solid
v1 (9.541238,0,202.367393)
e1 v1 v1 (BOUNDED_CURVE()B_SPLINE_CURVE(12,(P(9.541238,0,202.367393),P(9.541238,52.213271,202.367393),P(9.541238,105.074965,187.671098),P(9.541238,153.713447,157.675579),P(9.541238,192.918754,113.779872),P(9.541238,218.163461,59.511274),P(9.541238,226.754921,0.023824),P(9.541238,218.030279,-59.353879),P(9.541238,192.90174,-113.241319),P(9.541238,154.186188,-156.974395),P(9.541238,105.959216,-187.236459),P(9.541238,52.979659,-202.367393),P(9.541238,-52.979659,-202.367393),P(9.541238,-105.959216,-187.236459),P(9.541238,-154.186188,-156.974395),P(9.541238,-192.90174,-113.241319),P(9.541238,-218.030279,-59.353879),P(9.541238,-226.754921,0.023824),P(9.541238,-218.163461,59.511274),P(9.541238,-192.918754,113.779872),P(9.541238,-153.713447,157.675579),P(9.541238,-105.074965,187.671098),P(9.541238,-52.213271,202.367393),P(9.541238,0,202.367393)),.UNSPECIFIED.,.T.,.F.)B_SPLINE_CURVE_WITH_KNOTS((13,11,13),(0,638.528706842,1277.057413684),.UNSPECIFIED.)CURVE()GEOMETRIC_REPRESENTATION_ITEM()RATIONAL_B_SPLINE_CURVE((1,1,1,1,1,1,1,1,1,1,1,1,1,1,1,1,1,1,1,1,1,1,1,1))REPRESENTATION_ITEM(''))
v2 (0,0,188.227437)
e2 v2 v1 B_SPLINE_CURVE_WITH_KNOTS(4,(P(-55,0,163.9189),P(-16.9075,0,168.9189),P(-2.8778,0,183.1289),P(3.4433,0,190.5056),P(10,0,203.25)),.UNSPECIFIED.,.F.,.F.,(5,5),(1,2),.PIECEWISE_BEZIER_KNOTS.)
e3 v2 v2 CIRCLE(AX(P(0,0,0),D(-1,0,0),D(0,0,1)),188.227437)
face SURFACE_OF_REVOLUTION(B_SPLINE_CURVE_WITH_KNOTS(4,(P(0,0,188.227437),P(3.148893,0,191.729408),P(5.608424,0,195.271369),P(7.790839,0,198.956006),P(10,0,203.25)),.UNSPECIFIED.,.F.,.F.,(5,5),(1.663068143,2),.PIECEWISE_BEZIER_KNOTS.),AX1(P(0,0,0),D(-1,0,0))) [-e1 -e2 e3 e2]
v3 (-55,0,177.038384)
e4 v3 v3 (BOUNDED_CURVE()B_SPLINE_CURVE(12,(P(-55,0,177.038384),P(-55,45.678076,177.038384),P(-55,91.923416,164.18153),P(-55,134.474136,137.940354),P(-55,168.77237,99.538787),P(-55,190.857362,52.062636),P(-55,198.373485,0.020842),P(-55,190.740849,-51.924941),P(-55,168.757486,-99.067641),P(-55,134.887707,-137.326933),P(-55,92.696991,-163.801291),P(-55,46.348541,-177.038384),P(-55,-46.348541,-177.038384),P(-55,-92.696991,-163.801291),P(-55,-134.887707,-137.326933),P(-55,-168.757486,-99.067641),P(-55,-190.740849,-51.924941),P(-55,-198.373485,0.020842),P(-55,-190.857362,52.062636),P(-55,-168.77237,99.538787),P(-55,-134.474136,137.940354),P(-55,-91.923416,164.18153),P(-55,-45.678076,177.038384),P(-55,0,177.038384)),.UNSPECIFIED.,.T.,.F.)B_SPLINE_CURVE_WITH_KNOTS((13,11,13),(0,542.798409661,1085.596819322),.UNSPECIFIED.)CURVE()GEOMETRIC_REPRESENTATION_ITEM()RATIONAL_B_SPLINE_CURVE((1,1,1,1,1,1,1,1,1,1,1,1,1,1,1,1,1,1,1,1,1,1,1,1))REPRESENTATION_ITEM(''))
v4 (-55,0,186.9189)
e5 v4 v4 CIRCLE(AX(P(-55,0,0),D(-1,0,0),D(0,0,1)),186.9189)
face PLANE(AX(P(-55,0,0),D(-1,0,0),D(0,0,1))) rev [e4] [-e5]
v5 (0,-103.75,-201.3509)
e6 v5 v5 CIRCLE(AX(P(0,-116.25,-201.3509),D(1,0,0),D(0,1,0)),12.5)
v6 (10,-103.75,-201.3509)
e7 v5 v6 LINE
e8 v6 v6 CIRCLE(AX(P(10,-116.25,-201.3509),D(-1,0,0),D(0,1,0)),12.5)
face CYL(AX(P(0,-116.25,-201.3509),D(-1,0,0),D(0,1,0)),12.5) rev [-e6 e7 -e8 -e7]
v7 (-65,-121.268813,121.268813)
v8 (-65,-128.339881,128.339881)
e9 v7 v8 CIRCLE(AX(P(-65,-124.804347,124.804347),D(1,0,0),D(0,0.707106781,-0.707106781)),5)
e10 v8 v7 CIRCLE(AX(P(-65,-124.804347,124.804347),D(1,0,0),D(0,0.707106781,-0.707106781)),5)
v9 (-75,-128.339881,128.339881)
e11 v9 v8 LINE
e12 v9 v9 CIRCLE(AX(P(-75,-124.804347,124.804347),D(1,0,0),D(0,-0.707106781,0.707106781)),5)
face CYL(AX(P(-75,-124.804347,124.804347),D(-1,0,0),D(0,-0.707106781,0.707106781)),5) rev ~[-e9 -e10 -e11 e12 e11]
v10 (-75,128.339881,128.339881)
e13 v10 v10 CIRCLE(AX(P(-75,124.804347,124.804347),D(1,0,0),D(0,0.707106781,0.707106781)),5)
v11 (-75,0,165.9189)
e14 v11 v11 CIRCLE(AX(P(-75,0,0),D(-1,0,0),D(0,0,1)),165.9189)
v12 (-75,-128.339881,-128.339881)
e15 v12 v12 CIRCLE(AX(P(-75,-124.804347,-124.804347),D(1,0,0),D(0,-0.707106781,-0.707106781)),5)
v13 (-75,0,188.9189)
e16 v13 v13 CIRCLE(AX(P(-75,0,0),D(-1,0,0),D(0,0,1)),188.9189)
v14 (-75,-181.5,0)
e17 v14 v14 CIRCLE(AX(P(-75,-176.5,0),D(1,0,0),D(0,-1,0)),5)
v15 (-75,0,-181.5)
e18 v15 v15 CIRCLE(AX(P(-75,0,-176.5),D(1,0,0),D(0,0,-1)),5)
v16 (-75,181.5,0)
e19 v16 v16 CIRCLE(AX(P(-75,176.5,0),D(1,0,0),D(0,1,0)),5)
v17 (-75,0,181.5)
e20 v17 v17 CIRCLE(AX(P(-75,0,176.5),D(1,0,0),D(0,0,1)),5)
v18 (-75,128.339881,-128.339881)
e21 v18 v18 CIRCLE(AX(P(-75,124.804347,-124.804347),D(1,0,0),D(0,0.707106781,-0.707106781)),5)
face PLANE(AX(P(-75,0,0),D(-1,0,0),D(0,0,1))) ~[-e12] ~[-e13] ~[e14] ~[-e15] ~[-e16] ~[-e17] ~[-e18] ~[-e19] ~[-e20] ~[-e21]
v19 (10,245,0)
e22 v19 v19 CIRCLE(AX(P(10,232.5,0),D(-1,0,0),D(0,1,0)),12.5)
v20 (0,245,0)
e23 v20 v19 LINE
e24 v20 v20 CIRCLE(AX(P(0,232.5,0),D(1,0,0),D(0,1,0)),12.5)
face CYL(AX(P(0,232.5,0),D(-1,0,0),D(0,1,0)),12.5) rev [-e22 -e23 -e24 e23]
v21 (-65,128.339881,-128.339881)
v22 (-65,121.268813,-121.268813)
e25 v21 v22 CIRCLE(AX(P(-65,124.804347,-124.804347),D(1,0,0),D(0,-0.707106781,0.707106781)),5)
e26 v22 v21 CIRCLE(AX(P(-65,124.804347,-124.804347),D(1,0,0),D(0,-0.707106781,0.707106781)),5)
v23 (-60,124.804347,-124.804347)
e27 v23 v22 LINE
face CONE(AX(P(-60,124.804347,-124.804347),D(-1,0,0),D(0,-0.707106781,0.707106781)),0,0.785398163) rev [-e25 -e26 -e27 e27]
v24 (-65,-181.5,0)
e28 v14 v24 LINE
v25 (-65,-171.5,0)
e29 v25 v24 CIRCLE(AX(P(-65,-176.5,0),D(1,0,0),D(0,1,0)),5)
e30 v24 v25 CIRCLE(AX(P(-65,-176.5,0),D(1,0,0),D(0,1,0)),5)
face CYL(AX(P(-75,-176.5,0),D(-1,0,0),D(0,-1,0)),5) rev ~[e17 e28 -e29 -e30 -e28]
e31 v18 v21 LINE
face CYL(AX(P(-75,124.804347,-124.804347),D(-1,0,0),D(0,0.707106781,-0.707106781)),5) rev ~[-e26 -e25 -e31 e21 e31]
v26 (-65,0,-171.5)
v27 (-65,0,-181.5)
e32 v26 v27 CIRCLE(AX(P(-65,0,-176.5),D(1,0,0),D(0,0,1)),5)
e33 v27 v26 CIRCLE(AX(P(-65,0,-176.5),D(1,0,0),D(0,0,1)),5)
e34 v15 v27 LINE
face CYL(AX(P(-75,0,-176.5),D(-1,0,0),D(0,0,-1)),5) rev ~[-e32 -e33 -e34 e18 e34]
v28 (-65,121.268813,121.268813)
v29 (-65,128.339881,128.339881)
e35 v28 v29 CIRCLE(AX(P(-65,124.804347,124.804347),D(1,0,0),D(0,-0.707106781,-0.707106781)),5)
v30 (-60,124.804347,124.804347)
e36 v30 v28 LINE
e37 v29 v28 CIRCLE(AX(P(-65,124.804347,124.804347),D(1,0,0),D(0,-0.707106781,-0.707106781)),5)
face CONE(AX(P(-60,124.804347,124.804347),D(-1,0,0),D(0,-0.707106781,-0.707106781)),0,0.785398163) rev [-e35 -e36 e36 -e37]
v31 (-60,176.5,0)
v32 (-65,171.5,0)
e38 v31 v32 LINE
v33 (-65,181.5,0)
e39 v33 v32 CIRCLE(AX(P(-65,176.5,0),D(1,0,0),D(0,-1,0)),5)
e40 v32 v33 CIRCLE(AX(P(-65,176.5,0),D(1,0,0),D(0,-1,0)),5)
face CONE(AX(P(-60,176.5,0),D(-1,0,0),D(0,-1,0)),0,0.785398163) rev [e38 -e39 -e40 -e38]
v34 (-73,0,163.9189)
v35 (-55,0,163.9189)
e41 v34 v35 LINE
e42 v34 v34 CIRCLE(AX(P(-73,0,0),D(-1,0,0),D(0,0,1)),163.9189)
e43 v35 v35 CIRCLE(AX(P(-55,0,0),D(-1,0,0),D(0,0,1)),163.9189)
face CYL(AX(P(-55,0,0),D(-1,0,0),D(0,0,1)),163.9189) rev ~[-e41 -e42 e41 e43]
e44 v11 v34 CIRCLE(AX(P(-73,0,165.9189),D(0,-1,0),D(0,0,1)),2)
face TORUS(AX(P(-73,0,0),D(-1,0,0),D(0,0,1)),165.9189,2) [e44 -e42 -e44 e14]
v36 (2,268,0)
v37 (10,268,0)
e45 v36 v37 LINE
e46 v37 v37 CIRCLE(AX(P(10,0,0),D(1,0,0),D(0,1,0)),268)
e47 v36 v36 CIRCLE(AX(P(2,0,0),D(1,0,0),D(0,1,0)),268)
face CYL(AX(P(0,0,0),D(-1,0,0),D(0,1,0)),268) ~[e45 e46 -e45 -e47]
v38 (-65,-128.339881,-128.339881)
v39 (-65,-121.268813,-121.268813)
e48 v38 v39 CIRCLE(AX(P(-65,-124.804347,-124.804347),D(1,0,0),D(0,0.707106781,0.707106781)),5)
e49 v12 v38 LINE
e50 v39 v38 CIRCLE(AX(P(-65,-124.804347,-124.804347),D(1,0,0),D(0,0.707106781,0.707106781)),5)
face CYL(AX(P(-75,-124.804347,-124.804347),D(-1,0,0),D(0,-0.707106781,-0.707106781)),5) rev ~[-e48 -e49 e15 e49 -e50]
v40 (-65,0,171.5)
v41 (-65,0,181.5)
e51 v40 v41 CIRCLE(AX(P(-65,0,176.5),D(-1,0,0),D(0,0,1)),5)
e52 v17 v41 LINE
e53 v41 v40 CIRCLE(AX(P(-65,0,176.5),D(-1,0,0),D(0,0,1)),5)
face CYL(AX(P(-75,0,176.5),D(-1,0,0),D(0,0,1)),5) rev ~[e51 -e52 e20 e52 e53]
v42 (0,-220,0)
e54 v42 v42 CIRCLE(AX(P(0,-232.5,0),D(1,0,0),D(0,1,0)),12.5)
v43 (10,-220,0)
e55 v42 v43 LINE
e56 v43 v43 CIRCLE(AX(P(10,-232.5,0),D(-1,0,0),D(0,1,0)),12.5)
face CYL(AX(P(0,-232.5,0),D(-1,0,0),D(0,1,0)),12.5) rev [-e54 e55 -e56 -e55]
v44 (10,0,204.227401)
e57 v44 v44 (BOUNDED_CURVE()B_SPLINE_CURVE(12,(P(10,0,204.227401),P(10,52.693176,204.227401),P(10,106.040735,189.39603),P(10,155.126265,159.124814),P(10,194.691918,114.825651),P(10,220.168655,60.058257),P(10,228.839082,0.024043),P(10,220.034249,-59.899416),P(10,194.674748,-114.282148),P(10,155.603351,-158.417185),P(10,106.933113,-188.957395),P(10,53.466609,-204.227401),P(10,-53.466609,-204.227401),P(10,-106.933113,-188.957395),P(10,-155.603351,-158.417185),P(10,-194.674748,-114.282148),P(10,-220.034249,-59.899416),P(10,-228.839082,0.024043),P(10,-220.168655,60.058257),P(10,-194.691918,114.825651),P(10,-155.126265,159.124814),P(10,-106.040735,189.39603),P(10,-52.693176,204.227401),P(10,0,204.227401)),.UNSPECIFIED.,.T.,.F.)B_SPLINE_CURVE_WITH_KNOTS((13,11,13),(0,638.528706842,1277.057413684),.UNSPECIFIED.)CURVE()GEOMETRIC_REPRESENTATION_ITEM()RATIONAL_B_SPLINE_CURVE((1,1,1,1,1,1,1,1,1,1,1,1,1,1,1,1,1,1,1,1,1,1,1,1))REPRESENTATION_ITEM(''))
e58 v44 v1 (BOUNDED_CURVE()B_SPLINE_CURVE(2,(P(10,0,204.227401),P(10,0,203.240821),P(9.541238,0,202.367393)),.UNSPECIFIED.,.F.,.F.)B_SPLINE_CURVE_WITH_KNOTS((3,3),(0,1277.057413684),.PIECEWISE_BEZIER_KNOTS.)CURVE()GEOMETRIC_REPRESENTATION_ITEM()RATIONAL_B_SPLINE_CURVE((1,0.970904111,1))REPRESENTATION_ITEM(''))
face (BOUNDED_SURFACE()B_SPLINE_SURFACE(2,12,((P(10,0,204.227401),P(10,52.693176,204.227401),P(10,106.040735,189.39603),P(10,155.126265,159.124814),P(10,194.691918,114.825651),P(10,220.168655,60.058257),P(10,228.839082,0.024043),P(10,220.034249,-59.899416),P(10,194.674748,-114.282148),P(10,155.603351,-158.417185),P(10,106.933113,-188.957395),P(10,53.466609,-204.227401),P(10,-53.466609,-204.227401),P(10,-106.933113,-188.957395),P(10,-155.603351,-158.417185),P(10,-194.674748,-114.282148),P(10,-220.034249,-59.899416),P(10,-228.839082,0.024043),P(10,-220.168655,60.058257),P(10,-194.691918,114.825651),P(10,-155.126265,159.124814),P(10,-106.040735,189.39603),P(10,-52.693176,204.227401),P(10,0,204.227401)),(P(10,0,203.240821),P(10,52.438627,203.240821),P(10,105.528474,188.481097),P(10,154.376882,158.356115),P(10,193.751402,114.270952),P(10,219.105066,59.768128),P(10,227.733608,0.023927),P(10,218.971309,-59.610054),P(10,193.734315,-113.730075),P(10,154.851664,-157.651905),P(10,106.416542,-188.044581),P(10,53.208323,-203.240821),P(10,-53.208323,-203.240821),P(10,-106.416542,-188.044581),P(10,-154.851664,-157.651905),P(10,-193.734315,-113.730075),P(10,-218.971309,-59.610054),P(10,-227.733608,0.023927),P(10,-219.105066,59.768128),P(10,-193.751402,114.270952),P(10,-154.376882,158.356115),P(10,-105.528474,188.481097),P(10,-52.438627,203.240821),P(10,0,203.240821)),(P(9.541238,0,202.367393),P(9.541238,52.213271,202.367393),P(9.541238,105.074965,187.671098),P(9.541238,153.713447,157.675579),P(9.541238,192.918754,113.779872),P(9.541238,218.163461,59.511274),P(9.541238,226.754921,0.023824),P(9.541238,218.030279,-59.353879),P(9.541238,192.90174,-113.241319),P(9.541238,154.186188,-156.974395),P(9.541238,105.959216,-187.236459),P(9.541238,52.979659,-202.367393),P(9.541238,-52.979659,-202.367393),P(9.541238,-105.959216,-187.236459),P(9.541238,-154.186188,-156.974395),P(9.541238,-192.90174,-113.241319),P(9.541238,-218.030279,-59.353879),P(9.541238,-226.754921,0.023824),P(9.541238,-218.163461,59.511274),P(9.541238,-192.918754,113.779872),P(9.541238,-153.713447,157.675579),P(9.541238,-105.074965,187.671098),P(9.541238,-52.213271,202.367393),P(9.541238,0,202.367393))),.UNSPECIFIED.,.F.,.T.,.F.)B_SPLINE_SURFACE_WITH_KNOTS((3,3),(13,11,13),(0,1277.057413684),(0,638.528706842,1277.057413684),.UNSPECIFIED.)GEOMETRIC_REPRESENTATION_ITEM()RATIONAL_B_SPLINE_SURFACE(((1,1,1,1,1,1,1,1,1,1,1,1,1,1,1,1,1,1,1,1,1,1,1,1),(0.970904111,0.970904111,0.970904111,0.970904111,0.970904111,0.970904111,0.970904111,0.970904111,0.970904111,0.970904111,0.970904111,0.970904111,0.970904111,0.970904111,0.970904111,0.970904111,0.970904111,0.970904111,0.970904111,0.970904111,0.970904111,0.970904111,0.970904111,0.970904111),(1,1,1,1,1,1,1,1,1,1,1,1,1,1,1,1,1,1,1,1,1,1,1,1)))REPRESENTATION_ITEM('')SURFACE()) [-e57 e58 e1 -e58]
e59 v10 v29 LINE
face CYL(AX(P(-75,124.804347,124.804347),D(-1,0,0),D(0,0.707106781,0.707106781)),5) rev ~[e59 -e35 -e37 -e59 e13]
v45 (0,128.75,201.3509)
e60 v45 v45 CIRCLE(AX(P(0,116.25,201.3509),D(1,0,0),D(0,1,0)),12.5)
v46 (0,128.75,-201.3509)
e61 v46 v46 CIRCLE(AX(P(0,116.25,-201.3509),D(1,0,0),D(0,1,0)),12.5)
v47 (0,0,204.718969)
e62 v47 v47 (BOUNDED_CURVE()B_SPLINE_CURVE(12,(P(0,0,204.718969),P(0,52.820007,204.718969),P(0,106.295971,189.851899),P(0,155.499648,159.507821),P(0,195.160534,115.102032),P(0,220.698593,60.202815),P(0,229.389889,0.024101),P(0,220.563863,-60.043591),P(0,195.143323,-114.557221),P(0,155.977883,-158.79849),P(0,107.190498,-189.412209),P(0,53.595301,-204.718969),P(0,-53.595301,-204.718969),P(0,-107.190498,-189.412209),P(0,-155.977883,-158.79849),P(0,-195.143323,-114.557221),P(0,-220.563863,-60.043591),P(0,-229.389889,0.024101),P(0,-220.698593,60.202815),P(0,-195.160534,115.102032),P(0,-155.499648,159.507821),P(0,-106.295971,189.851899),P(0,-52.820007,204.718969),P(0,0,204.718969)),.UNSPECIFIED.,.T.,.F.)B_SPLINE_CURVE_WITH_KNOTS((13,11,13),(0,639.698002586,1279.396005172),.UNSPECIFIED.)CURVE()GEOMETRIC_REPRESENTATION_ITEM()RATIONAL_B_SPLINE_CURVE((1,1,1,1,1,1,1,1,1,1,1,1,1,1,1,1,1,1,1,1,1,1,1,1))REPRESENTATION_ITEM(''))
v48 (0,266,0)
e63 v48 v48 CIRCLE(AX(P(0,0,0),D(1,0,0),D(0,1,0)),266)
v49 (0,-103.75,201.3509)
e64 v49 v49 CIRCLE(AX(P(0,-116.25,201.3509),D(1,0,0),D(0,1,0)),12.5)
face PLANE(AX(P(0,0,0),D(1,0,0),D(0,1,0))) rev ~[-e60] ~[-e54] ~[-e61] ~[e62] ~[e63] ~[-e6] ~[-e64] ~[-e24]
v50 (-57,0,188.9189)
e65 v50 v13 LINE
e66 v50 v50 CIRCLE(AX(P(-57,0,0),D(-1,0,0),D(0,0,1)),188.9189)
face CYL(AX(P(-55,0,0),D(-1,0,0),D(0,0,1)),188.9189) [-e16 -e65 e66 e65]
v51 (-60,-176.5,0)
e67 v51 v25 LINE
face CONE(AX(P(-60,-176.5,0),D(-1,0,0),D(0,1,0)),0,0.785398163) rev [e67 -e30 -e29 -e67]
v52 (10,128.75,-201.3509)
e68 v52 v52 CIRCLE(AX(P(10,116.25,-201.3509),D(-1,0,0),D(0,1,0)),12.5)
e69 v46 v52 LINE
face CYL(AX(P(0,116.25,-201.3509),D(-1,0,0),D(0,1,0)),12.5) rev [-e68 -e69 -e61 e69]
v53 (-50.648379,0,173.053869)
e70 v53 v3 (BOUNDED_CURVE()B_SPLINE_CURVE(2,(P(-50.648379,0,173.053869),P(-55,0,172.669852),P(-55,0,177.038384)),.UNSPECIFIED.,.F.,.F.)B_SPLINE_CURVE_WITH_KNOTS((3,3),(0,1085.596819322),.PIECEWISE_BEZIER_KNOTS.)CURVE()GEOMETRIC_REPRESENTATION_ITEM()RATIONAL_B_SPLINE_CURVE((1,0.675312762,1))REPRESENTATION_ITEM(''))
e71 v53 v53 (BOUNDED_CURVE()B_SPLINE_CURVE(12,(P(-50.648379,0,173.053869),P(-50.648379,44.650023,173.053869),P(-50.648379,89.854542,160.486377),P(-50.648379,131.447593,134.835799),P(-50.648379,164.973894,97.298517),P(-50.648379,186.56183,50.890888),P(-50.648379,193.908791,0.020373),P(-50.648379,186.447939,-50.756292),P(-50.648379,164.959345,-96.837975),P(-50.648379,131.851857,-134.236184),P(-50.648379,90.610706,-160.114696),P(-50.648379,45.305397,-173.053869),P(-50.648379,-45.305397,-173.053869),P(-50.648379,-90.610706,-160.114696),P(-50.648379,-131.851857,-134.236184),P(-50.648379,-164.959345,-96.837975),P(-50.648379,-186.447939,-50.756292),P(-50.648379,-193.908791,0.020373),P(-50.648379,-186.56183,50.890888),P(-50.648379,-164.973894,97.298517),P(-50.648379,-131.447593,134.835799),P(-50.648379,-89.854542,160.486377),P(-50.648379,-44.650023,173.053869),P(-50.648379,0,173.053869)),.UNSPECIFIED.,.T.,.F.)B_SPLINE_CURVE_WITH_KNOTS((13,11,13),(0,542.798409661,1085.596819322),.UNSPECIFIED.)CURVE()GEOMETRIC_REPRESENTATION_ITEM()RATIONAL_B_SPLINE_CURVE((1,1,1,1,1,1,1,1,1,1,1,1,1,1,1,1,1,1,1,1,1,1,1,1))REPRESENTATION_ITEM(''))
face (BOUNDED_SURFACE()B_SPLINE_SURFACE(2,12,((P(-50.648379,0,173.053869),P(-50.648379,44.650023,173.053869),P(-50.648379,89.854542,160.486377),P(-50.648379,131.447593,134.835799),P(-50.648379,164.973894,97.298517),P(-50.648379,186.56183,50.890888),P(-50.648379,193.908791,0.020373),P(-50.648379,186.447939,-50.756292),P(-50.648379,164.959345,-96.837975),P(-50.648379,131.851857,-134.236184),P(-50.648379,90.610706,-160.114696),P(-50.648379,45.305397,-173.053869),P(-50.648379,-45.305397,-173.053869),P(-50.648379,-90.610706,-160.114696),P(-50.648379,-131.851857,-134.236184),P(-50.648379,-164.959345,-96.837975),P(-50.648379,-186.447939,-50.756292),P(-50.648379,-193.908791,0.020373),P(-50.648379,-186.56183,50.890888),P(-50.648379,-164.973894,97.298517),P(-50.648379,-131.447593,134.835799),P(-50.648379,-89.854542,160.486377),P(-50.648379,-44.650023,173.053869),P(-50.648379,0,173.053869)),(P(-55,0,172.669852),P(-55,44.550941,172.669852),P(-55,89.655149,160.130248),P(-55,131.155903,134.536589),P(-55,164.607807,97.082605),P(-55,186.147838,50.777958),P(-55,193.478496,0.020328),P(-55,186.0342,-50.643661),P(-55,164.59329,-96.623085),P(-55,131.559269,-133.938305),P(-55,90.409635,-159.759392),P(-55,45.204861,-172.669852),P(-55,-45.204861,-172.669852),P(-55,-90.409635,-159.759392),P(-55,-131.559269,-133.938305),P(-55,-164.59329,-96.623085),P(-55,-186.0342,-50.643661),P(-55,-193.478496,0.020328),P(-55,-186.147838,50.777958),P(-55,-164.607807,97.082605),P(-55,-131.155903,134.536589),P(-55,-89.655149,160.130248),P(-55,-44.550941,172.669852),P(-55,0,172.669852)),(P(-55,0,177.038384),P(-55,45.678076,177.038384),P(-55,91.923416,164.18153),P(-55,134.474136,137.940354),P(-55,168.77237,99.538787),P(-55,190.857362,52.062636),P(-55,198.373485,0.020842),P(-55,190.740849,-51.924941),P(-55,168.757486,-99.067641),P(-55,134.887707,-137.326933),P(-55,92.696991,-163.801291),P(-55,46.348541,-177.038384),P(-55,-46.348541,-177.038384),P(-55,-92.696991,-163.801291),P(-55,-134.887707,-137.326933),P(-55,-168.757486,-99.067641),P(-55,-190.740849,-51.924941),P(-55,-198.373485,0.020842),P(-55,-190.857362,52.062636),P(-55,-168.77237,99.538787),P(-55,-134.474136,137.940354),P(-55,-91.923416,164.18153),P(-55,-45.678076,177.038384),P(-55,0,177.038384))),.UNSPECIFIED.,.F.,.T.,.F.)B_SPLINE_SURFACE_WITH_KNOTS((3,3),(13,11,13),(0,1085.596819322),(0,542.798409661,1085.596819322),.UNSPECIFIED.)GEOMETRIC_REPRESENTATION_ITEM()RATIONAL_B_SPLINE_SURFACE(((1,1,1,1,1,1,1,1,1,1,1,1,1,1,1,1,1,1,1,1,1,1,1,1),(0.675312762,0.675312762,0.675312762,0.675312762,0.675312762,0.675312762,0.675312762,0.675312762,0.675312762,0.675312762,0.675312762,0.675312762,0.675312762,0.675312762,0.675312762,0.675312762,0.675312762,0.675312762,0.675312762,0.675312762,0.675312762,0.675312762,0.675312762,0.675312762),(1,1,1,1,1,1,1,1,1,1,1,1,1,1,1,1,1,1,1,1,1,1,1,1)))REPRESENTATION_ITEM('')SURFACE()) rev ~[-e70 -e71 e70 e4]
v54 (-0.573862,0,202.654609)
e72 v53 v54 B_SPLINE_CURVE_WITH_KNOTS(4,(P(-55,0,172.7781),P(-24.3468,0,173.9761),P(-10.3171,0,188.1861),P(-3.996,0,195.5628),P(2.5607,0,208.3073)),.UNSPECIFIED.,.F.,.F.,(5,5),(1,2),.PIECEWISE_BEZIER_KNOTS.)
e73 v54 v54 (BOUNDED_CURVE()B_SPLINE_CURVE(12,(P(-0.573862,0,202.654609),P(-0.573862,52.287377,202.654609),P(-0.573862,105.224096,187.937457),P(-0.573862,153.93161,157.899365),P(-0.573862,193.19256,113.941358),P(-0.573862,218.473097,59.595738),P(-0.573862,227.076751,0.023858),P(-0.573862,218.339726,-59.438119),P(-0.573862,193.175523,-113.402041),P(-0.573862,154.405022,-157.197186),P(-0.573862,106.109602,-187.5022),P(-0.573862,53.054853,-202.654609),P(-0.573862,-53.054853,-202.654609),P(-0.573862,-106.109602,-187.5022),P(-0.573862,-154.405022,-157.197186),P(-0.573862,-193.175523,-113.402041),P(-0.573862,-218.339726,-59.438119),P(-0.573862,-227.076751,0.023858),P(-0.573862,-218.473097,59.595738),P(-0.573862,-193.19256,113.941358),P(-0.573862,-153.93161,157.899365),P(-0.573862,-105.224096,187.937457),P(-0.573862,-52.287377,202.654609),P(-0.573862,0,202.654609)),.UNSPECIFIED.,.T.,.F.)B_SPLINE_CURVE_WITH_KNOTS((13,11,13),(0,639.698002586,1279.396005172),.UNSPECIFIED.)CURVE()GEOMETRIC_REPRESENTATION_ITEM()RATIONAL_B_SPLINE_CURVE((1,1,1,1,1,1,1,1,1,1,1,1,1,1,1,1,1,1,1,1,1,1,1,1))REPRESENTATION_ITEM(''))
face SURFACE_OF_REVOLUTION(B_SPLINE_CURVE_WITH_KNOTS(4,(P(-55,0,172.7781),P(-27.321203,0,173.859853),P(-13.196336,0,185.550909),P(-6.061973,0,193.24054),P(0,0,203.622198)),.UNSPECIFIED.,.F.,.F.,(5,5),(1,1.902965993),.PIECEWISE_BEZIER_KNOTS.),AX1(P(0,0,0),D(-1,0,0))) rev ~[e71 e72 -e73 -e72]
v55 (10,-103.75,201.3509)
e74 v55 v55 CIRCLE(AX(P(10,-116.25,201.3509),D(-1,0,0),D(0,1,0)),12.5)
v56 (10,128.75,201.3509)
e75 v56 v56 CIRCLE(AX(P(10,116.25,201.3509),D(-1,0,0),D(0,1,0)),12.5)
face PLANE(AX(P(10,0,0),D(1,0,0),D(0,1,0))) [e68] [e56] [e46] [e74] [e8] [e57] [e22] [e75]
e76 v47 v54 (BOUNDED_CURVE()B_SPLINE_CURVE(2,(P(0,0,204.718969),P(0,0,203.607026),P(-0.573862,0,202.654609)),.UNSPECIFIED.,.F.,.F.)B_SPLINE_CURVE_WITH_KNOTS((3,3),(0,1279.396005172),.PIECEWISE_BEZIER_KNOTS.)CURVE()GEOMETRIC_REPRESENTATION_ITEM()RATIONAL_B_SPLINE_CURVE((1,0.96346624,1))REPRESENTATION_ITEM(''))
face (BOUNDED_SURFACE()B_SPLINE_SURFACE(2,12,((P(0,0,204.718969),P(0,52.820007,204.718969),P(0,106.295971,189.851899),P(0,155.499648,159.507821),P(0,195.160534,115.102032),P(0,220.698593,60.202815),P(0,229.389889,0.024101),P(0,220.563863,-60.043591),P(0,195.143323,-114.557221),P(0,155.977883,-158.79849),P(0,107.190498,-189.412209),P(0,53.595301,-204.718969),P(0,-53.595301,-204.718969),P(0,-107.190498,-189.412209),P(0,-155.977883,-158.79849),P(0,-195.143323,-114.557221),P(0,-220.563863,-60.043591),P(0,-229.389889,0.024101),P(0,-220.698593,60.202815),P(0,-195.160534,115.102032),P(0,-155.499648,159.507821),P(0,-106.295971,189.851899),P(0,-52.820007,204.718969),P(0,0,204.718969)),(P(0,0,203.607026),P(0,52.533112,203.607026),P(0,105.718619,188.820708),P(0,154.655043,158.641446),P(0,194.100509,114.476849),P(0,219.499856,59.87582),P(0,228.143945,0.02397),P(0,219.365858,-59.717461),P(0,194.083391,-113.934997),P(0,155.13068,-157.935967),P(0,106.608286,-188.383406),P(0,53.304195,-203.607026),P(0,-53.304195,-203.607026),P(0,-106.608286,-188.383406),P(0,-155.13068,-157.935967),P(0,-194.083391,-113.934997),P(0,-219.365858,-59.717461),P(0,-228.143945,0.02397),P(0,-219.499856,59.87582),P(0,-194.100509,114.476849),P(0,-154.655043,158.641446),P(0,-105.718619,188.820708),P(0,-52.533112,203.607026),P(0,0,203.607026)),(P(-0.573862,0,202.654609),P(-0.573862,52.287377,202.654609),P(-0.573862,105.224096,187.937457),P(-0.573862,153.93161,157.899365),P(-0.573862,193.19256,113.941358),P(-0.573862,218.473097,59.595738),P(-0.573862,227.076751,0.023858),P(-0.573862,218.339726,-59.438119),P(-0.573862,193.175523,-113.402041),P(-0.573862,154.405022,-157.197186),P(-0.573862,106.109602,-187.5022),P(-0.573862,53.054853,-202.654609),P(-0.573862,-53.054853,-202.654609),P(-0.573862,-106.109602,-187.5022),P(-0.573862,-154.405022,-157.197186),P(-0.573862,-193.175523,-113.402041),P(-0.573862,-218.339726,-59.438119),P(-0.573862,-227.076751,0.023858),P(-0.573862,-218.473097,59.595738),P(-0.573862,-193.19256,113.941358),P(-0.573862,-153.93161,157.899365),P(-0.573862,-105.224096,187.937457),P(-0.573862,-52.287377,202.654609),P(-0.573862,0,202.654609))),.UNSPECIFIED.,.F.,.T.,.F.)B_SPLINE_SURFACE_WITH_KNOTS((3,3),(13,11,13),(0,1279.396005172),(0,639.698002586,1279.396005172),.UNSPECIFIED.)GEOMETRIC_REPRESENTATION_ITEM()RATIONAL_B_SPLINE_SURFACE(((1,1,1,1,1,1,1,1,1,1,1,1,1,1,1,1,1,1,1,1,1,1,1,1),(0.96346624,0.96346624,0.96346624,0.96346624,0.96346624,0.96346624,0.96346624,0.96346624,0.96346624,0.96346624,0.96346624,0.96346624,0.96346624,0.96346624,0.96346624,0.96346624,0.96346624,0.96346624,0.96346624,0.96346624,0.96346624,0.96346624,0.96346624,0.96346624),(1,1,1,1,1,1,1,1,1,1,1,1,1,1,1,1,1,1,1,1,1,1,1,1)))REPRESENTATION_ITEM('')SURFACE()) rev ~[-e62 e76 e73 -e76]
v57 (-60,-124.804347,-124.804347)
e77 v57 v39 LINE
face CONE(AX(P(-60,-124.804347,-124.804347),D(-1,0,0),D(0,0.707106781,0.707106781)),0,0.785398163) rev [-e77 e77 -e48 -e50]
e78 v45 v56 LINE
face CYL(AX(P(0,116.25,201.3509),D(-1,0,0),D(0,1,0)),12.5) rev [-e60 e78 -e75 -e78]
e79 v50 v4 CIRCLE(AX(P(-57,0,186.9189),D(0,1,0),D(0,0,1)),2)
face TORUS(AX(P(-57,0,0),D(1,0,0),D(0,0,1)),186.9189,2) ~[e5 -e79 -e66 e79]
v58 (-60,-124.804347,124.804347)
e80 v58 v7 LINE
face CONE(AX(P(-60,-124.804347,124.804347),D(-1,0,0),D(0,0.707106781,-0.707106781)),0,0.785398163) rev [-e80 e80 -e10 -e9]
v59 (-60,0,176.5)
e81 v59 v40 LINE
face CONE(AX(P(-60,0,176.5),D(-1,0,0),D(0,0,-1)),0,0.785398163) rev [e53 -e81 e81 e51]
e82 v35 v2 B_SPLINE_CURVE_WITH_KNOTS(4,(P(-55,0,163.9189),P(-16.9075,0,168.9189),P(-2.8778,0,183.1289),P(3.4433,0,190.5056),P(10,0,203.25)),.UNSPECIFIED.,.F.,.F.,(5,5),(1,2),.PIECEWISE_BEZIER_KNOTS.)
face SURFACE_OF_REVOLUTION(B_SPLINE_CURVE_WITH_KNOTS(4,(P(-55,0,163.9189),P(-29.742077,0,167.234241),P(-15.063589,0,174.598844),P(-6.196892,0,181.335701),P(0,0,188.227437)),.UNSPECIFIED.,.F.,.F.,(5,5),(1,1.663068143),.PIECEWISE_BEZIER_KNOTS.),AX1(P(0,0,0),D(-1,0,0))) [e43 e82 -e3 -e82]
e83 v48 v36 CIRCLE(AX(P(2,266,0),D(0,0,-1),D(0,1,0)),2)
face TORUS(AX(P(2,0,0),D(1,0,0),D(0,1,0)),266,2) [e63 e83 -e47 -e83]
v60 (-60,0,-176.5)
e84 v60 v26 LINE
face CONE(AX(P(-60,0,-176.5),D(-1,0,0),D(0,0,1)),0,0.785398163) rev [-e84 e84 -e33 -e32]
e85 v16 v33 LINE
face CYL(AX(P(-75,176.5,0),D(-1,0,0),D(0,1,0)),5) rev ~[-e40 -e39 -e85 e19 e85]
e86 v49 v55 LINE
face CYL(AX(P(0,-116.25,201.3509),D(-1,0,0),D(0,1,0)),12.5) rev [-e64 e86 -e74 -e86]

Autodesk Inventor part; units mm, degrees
ref_plane "YZ Plane" through (0, 0, 0) normal (1, 0, 0) x (0, 1, 0)
ref_plane "XZ Plane" through (0, 0, 0) normal (0, 1, 0) x (-1, 0, 0)
ref_plane "XY Plane" through (0, 0, 0) normal (0, 0, 1) x (1, 0, 0)
sketch "Sketch1" plane through (0, 0, 0) normal (1, 0, 0) x (0, 1, 0)
  circle A0 centre (0, 0) radius 268
  circle A1 centre (0, 0) radius 232.5
  circle A2 centre (0, 0) radius 203.25
  circle A3 centre (232.5, 0) radius 12.5
  circle A4 centre (116.25, 201.3509) radius 12.5
  circle A5 centre (-116.25, 201.3509) radius 12.5
  circle A6 centre (-232.5, 0) radius 12.5
  circle A7 centre (-116.25, -201.3509) radius 12.5
  circle A8 centre (116.25, -201.3509) radius 12.5
  dimension "d1" = 465
  dimension "d0" = 536
  dimension "d2" = 406.5
  dimension "d3" = 25
  dimension "d52" = 360
extrude "Extrusion1" add sketch "Sketch1" along normal blind 10 contours A0 | A3 A1 A8 A7 A6 A5 A4
sketch "Sketch2" plane through (0, 0, 0) normal (0, 1, 0) x (-1, 0, 0)
  line L0 (-10, 203.25) -> (0, 203.25) projected
  line L1 (-10, 203.25) -> (0, 203.25)
  line L2 (-10, 203.25) -> (-10, 193.1351)
  line L3 (-10, 188.8509) -> (-10, 213.8509) projected
  line L4 (0, 268) -> (0, -268) projected
  line L5 (0, 0) -> (70, 0)
  line L6 (70, 163.9189) -> (70, 0)
  line L7 (70, 0) -> (55, 0)
  line L8 (55, 163.9189) -> (55, 188.9189)
  line L9 (-10, -203.25) -> (-10, 203.25) projected
  line L10 (55, 163.9189) -> (55, 173.9189)
  line L11 (55, 188.9189) -> (65, 188.9189)
  line L12 (55, 163.9189) -> (65, 163.9189)
  line L13 (65, 163.9189) -> (70, 163.9189)
  line L14 (70, 188.9189) -> (65, 188.9189)
  line L15 (70, 163.9189) -> (75, 163.9189)
  line L16 (75, 163.9189) -> (75, 188.9189)
  line L17 (75, 188.9189) -> (70, 188.9189)
  line L18 (-10, 193.1351) -> (-10, 203.25)
  line L19 (-10, 268) -> (-10, -268) projected
  line L20 (55, 163.9189) -> (16.9075, 168.9189) construction
  line L21 (16.9075, 168.9189) -> (2.8778, 183.1289) construction
  line L22 (2.8778, 183.1289) -> (-3.4433, 190.5056) construction
  line L23 (-3.4433, 190.5056) -> (-10, 203.25) construction
  spline S0 degree 4 poles (55, 163.9189) (16.9075, 168.9189) (2.8778, 183.1289) (-3.4433, 190.5056) (-10, 203.25) knots 1 1 1 1 1 2 2 2 2 2
  line L24 (55, 172.7781) -> (24.3468, 173.9761) construction
  line L25 (24.3468, 173.9761) -> (10.3171, 188.1861) construction
  line L26 (10.3171, 188.1861) -> (3.996, 195.5628) construction
  line L27 (3.996, 195.5628) -> (-2.5607, 208.3073) construction
  spline S1 degree 4 poles (55, 172.7781) (24.3468, 173.9761) (10.3171, 188.1861) (3.996, 195.5628) (-2.5607, 208.3073) knots 1 1 1 1 1 2 2 2 2 2
  point P0 (0, 188.9189)
  point P1 (0, 203.6222)
  dimension "d43" = 163.9189
  dimension "d44" = 188.9189
revolve "Revolution1" add sketch "Sketch2" angle 360 about axis through (0, 0, 0) along (-1, 0, 0) contours L0 L4 S0 | L4 S1 L8 S0 | L8 L11 L14 L17 L16 L15 L13 L12
sketch "Sketch4" plane through (0, 0, 0) normal (0, 1, 0) x (-1, 0, 0)
  point P0 (0, 0)
sketch "Sketch5" plane through (-75, 0, 0) normal (-1, 0, 0) x (0, 0, 1)
  circle A0 centre (0, 0) radius 176.5
  circle A1 centre (176.5, 0) radius 5
  dimension "d15" = 353
  dimension "d16" = 10
extrude "Extrusion3" cut sketch "Sketch5" against normal blind 10 contours A0 A1 | A0 A1 picked at (174.9371, -1.1415) picked at (177.9961, -1.2848)
sketch "Sketch6" plane through (0, 0, 0) normal (0, 1, 0) x (-1, 0, 0)
  line L0 (65, 181.5) -> (65, 171.5) projected
  line L1 (65, 171.5) -> (65, 176.5)
  line L2 (65, 176.5) -> (60, 176.5)
  line L3 (60, 176.5) -> (65, 171.5)
  point P0 (0, 0)
revolve "Revolution2" cut sketch "Sketch6" angle 360 about axis through (-65, 0, 176.5) along (1, 0, 0)
thread "Thread1" size "M10x1.5" class "6H" standard "ANSI Metric M Profile" full length
pattern_circular "Circular Pattern1" count 8 over 360 about axis through (-65, 0, 0) along (-1, 0, 0) of "Revolution2", "Extrusion3"
thread "Thread2" size "M10x1.5" class "6H" standard "ANSI Metric M Profile" full length
thread "Thread3" size "M10x1.5" class "6H" standard "ANSI Metric M Profile" full length
thread "Thread4" size "M10x1.5" class "6H" standard "ANSI Metric M Profile" full length
thread "Thread5" size "M10x1.5" class "6H" standard "ANSI Metric M Profile" full length
thread "Thread6" size "M10x1.5" class "6H" standard "ANSI Metric M Profile" full length
thread "Thread7" size "M10x1.5" class "6H" standard "ANSI Metric M Profile" full length
thread "Thread8" size "M10x1.5" class "6H" standard "ANSI Metric M Profile" full length
thread "Thread9" size "M10x1.5" class "6H" standard "ANSI Metric M Profile" full length
fillet "Fillet2" radius 4 2 edges at (10, 0, -203.25) (0, 0, -203.6222)
fillet "Fillet3" radius 4 1 edges at (-55, 0, -172.7781)
fillet "Fillet4" radius 2 1 edges at (-75, 0, -163.9189)
fillet "Fillet5" radius 2 2 edges at (-55, 0, -188.9189) (0, -268, 0)
equation "\"BendRadius\" = Thickness"
equation "\"BendReliefWidth\" = Thickness"
equation "\"BendReliefDepth\" = 0.5 * Thickness"
equation "\"CornerReliefSize\" = 4 * Thickness"
equation "\"MinimumRemnant\" = 2 * Thickness"
equation "\"TransitionRadius\" = BendRadius"
equation "\"JacobiRadiusSize\" = BendRadius"
equation "\"GapSize\" = Thickness"
equation "\"Thickness\" = 0.5"
properties part number "kelifos 3"
